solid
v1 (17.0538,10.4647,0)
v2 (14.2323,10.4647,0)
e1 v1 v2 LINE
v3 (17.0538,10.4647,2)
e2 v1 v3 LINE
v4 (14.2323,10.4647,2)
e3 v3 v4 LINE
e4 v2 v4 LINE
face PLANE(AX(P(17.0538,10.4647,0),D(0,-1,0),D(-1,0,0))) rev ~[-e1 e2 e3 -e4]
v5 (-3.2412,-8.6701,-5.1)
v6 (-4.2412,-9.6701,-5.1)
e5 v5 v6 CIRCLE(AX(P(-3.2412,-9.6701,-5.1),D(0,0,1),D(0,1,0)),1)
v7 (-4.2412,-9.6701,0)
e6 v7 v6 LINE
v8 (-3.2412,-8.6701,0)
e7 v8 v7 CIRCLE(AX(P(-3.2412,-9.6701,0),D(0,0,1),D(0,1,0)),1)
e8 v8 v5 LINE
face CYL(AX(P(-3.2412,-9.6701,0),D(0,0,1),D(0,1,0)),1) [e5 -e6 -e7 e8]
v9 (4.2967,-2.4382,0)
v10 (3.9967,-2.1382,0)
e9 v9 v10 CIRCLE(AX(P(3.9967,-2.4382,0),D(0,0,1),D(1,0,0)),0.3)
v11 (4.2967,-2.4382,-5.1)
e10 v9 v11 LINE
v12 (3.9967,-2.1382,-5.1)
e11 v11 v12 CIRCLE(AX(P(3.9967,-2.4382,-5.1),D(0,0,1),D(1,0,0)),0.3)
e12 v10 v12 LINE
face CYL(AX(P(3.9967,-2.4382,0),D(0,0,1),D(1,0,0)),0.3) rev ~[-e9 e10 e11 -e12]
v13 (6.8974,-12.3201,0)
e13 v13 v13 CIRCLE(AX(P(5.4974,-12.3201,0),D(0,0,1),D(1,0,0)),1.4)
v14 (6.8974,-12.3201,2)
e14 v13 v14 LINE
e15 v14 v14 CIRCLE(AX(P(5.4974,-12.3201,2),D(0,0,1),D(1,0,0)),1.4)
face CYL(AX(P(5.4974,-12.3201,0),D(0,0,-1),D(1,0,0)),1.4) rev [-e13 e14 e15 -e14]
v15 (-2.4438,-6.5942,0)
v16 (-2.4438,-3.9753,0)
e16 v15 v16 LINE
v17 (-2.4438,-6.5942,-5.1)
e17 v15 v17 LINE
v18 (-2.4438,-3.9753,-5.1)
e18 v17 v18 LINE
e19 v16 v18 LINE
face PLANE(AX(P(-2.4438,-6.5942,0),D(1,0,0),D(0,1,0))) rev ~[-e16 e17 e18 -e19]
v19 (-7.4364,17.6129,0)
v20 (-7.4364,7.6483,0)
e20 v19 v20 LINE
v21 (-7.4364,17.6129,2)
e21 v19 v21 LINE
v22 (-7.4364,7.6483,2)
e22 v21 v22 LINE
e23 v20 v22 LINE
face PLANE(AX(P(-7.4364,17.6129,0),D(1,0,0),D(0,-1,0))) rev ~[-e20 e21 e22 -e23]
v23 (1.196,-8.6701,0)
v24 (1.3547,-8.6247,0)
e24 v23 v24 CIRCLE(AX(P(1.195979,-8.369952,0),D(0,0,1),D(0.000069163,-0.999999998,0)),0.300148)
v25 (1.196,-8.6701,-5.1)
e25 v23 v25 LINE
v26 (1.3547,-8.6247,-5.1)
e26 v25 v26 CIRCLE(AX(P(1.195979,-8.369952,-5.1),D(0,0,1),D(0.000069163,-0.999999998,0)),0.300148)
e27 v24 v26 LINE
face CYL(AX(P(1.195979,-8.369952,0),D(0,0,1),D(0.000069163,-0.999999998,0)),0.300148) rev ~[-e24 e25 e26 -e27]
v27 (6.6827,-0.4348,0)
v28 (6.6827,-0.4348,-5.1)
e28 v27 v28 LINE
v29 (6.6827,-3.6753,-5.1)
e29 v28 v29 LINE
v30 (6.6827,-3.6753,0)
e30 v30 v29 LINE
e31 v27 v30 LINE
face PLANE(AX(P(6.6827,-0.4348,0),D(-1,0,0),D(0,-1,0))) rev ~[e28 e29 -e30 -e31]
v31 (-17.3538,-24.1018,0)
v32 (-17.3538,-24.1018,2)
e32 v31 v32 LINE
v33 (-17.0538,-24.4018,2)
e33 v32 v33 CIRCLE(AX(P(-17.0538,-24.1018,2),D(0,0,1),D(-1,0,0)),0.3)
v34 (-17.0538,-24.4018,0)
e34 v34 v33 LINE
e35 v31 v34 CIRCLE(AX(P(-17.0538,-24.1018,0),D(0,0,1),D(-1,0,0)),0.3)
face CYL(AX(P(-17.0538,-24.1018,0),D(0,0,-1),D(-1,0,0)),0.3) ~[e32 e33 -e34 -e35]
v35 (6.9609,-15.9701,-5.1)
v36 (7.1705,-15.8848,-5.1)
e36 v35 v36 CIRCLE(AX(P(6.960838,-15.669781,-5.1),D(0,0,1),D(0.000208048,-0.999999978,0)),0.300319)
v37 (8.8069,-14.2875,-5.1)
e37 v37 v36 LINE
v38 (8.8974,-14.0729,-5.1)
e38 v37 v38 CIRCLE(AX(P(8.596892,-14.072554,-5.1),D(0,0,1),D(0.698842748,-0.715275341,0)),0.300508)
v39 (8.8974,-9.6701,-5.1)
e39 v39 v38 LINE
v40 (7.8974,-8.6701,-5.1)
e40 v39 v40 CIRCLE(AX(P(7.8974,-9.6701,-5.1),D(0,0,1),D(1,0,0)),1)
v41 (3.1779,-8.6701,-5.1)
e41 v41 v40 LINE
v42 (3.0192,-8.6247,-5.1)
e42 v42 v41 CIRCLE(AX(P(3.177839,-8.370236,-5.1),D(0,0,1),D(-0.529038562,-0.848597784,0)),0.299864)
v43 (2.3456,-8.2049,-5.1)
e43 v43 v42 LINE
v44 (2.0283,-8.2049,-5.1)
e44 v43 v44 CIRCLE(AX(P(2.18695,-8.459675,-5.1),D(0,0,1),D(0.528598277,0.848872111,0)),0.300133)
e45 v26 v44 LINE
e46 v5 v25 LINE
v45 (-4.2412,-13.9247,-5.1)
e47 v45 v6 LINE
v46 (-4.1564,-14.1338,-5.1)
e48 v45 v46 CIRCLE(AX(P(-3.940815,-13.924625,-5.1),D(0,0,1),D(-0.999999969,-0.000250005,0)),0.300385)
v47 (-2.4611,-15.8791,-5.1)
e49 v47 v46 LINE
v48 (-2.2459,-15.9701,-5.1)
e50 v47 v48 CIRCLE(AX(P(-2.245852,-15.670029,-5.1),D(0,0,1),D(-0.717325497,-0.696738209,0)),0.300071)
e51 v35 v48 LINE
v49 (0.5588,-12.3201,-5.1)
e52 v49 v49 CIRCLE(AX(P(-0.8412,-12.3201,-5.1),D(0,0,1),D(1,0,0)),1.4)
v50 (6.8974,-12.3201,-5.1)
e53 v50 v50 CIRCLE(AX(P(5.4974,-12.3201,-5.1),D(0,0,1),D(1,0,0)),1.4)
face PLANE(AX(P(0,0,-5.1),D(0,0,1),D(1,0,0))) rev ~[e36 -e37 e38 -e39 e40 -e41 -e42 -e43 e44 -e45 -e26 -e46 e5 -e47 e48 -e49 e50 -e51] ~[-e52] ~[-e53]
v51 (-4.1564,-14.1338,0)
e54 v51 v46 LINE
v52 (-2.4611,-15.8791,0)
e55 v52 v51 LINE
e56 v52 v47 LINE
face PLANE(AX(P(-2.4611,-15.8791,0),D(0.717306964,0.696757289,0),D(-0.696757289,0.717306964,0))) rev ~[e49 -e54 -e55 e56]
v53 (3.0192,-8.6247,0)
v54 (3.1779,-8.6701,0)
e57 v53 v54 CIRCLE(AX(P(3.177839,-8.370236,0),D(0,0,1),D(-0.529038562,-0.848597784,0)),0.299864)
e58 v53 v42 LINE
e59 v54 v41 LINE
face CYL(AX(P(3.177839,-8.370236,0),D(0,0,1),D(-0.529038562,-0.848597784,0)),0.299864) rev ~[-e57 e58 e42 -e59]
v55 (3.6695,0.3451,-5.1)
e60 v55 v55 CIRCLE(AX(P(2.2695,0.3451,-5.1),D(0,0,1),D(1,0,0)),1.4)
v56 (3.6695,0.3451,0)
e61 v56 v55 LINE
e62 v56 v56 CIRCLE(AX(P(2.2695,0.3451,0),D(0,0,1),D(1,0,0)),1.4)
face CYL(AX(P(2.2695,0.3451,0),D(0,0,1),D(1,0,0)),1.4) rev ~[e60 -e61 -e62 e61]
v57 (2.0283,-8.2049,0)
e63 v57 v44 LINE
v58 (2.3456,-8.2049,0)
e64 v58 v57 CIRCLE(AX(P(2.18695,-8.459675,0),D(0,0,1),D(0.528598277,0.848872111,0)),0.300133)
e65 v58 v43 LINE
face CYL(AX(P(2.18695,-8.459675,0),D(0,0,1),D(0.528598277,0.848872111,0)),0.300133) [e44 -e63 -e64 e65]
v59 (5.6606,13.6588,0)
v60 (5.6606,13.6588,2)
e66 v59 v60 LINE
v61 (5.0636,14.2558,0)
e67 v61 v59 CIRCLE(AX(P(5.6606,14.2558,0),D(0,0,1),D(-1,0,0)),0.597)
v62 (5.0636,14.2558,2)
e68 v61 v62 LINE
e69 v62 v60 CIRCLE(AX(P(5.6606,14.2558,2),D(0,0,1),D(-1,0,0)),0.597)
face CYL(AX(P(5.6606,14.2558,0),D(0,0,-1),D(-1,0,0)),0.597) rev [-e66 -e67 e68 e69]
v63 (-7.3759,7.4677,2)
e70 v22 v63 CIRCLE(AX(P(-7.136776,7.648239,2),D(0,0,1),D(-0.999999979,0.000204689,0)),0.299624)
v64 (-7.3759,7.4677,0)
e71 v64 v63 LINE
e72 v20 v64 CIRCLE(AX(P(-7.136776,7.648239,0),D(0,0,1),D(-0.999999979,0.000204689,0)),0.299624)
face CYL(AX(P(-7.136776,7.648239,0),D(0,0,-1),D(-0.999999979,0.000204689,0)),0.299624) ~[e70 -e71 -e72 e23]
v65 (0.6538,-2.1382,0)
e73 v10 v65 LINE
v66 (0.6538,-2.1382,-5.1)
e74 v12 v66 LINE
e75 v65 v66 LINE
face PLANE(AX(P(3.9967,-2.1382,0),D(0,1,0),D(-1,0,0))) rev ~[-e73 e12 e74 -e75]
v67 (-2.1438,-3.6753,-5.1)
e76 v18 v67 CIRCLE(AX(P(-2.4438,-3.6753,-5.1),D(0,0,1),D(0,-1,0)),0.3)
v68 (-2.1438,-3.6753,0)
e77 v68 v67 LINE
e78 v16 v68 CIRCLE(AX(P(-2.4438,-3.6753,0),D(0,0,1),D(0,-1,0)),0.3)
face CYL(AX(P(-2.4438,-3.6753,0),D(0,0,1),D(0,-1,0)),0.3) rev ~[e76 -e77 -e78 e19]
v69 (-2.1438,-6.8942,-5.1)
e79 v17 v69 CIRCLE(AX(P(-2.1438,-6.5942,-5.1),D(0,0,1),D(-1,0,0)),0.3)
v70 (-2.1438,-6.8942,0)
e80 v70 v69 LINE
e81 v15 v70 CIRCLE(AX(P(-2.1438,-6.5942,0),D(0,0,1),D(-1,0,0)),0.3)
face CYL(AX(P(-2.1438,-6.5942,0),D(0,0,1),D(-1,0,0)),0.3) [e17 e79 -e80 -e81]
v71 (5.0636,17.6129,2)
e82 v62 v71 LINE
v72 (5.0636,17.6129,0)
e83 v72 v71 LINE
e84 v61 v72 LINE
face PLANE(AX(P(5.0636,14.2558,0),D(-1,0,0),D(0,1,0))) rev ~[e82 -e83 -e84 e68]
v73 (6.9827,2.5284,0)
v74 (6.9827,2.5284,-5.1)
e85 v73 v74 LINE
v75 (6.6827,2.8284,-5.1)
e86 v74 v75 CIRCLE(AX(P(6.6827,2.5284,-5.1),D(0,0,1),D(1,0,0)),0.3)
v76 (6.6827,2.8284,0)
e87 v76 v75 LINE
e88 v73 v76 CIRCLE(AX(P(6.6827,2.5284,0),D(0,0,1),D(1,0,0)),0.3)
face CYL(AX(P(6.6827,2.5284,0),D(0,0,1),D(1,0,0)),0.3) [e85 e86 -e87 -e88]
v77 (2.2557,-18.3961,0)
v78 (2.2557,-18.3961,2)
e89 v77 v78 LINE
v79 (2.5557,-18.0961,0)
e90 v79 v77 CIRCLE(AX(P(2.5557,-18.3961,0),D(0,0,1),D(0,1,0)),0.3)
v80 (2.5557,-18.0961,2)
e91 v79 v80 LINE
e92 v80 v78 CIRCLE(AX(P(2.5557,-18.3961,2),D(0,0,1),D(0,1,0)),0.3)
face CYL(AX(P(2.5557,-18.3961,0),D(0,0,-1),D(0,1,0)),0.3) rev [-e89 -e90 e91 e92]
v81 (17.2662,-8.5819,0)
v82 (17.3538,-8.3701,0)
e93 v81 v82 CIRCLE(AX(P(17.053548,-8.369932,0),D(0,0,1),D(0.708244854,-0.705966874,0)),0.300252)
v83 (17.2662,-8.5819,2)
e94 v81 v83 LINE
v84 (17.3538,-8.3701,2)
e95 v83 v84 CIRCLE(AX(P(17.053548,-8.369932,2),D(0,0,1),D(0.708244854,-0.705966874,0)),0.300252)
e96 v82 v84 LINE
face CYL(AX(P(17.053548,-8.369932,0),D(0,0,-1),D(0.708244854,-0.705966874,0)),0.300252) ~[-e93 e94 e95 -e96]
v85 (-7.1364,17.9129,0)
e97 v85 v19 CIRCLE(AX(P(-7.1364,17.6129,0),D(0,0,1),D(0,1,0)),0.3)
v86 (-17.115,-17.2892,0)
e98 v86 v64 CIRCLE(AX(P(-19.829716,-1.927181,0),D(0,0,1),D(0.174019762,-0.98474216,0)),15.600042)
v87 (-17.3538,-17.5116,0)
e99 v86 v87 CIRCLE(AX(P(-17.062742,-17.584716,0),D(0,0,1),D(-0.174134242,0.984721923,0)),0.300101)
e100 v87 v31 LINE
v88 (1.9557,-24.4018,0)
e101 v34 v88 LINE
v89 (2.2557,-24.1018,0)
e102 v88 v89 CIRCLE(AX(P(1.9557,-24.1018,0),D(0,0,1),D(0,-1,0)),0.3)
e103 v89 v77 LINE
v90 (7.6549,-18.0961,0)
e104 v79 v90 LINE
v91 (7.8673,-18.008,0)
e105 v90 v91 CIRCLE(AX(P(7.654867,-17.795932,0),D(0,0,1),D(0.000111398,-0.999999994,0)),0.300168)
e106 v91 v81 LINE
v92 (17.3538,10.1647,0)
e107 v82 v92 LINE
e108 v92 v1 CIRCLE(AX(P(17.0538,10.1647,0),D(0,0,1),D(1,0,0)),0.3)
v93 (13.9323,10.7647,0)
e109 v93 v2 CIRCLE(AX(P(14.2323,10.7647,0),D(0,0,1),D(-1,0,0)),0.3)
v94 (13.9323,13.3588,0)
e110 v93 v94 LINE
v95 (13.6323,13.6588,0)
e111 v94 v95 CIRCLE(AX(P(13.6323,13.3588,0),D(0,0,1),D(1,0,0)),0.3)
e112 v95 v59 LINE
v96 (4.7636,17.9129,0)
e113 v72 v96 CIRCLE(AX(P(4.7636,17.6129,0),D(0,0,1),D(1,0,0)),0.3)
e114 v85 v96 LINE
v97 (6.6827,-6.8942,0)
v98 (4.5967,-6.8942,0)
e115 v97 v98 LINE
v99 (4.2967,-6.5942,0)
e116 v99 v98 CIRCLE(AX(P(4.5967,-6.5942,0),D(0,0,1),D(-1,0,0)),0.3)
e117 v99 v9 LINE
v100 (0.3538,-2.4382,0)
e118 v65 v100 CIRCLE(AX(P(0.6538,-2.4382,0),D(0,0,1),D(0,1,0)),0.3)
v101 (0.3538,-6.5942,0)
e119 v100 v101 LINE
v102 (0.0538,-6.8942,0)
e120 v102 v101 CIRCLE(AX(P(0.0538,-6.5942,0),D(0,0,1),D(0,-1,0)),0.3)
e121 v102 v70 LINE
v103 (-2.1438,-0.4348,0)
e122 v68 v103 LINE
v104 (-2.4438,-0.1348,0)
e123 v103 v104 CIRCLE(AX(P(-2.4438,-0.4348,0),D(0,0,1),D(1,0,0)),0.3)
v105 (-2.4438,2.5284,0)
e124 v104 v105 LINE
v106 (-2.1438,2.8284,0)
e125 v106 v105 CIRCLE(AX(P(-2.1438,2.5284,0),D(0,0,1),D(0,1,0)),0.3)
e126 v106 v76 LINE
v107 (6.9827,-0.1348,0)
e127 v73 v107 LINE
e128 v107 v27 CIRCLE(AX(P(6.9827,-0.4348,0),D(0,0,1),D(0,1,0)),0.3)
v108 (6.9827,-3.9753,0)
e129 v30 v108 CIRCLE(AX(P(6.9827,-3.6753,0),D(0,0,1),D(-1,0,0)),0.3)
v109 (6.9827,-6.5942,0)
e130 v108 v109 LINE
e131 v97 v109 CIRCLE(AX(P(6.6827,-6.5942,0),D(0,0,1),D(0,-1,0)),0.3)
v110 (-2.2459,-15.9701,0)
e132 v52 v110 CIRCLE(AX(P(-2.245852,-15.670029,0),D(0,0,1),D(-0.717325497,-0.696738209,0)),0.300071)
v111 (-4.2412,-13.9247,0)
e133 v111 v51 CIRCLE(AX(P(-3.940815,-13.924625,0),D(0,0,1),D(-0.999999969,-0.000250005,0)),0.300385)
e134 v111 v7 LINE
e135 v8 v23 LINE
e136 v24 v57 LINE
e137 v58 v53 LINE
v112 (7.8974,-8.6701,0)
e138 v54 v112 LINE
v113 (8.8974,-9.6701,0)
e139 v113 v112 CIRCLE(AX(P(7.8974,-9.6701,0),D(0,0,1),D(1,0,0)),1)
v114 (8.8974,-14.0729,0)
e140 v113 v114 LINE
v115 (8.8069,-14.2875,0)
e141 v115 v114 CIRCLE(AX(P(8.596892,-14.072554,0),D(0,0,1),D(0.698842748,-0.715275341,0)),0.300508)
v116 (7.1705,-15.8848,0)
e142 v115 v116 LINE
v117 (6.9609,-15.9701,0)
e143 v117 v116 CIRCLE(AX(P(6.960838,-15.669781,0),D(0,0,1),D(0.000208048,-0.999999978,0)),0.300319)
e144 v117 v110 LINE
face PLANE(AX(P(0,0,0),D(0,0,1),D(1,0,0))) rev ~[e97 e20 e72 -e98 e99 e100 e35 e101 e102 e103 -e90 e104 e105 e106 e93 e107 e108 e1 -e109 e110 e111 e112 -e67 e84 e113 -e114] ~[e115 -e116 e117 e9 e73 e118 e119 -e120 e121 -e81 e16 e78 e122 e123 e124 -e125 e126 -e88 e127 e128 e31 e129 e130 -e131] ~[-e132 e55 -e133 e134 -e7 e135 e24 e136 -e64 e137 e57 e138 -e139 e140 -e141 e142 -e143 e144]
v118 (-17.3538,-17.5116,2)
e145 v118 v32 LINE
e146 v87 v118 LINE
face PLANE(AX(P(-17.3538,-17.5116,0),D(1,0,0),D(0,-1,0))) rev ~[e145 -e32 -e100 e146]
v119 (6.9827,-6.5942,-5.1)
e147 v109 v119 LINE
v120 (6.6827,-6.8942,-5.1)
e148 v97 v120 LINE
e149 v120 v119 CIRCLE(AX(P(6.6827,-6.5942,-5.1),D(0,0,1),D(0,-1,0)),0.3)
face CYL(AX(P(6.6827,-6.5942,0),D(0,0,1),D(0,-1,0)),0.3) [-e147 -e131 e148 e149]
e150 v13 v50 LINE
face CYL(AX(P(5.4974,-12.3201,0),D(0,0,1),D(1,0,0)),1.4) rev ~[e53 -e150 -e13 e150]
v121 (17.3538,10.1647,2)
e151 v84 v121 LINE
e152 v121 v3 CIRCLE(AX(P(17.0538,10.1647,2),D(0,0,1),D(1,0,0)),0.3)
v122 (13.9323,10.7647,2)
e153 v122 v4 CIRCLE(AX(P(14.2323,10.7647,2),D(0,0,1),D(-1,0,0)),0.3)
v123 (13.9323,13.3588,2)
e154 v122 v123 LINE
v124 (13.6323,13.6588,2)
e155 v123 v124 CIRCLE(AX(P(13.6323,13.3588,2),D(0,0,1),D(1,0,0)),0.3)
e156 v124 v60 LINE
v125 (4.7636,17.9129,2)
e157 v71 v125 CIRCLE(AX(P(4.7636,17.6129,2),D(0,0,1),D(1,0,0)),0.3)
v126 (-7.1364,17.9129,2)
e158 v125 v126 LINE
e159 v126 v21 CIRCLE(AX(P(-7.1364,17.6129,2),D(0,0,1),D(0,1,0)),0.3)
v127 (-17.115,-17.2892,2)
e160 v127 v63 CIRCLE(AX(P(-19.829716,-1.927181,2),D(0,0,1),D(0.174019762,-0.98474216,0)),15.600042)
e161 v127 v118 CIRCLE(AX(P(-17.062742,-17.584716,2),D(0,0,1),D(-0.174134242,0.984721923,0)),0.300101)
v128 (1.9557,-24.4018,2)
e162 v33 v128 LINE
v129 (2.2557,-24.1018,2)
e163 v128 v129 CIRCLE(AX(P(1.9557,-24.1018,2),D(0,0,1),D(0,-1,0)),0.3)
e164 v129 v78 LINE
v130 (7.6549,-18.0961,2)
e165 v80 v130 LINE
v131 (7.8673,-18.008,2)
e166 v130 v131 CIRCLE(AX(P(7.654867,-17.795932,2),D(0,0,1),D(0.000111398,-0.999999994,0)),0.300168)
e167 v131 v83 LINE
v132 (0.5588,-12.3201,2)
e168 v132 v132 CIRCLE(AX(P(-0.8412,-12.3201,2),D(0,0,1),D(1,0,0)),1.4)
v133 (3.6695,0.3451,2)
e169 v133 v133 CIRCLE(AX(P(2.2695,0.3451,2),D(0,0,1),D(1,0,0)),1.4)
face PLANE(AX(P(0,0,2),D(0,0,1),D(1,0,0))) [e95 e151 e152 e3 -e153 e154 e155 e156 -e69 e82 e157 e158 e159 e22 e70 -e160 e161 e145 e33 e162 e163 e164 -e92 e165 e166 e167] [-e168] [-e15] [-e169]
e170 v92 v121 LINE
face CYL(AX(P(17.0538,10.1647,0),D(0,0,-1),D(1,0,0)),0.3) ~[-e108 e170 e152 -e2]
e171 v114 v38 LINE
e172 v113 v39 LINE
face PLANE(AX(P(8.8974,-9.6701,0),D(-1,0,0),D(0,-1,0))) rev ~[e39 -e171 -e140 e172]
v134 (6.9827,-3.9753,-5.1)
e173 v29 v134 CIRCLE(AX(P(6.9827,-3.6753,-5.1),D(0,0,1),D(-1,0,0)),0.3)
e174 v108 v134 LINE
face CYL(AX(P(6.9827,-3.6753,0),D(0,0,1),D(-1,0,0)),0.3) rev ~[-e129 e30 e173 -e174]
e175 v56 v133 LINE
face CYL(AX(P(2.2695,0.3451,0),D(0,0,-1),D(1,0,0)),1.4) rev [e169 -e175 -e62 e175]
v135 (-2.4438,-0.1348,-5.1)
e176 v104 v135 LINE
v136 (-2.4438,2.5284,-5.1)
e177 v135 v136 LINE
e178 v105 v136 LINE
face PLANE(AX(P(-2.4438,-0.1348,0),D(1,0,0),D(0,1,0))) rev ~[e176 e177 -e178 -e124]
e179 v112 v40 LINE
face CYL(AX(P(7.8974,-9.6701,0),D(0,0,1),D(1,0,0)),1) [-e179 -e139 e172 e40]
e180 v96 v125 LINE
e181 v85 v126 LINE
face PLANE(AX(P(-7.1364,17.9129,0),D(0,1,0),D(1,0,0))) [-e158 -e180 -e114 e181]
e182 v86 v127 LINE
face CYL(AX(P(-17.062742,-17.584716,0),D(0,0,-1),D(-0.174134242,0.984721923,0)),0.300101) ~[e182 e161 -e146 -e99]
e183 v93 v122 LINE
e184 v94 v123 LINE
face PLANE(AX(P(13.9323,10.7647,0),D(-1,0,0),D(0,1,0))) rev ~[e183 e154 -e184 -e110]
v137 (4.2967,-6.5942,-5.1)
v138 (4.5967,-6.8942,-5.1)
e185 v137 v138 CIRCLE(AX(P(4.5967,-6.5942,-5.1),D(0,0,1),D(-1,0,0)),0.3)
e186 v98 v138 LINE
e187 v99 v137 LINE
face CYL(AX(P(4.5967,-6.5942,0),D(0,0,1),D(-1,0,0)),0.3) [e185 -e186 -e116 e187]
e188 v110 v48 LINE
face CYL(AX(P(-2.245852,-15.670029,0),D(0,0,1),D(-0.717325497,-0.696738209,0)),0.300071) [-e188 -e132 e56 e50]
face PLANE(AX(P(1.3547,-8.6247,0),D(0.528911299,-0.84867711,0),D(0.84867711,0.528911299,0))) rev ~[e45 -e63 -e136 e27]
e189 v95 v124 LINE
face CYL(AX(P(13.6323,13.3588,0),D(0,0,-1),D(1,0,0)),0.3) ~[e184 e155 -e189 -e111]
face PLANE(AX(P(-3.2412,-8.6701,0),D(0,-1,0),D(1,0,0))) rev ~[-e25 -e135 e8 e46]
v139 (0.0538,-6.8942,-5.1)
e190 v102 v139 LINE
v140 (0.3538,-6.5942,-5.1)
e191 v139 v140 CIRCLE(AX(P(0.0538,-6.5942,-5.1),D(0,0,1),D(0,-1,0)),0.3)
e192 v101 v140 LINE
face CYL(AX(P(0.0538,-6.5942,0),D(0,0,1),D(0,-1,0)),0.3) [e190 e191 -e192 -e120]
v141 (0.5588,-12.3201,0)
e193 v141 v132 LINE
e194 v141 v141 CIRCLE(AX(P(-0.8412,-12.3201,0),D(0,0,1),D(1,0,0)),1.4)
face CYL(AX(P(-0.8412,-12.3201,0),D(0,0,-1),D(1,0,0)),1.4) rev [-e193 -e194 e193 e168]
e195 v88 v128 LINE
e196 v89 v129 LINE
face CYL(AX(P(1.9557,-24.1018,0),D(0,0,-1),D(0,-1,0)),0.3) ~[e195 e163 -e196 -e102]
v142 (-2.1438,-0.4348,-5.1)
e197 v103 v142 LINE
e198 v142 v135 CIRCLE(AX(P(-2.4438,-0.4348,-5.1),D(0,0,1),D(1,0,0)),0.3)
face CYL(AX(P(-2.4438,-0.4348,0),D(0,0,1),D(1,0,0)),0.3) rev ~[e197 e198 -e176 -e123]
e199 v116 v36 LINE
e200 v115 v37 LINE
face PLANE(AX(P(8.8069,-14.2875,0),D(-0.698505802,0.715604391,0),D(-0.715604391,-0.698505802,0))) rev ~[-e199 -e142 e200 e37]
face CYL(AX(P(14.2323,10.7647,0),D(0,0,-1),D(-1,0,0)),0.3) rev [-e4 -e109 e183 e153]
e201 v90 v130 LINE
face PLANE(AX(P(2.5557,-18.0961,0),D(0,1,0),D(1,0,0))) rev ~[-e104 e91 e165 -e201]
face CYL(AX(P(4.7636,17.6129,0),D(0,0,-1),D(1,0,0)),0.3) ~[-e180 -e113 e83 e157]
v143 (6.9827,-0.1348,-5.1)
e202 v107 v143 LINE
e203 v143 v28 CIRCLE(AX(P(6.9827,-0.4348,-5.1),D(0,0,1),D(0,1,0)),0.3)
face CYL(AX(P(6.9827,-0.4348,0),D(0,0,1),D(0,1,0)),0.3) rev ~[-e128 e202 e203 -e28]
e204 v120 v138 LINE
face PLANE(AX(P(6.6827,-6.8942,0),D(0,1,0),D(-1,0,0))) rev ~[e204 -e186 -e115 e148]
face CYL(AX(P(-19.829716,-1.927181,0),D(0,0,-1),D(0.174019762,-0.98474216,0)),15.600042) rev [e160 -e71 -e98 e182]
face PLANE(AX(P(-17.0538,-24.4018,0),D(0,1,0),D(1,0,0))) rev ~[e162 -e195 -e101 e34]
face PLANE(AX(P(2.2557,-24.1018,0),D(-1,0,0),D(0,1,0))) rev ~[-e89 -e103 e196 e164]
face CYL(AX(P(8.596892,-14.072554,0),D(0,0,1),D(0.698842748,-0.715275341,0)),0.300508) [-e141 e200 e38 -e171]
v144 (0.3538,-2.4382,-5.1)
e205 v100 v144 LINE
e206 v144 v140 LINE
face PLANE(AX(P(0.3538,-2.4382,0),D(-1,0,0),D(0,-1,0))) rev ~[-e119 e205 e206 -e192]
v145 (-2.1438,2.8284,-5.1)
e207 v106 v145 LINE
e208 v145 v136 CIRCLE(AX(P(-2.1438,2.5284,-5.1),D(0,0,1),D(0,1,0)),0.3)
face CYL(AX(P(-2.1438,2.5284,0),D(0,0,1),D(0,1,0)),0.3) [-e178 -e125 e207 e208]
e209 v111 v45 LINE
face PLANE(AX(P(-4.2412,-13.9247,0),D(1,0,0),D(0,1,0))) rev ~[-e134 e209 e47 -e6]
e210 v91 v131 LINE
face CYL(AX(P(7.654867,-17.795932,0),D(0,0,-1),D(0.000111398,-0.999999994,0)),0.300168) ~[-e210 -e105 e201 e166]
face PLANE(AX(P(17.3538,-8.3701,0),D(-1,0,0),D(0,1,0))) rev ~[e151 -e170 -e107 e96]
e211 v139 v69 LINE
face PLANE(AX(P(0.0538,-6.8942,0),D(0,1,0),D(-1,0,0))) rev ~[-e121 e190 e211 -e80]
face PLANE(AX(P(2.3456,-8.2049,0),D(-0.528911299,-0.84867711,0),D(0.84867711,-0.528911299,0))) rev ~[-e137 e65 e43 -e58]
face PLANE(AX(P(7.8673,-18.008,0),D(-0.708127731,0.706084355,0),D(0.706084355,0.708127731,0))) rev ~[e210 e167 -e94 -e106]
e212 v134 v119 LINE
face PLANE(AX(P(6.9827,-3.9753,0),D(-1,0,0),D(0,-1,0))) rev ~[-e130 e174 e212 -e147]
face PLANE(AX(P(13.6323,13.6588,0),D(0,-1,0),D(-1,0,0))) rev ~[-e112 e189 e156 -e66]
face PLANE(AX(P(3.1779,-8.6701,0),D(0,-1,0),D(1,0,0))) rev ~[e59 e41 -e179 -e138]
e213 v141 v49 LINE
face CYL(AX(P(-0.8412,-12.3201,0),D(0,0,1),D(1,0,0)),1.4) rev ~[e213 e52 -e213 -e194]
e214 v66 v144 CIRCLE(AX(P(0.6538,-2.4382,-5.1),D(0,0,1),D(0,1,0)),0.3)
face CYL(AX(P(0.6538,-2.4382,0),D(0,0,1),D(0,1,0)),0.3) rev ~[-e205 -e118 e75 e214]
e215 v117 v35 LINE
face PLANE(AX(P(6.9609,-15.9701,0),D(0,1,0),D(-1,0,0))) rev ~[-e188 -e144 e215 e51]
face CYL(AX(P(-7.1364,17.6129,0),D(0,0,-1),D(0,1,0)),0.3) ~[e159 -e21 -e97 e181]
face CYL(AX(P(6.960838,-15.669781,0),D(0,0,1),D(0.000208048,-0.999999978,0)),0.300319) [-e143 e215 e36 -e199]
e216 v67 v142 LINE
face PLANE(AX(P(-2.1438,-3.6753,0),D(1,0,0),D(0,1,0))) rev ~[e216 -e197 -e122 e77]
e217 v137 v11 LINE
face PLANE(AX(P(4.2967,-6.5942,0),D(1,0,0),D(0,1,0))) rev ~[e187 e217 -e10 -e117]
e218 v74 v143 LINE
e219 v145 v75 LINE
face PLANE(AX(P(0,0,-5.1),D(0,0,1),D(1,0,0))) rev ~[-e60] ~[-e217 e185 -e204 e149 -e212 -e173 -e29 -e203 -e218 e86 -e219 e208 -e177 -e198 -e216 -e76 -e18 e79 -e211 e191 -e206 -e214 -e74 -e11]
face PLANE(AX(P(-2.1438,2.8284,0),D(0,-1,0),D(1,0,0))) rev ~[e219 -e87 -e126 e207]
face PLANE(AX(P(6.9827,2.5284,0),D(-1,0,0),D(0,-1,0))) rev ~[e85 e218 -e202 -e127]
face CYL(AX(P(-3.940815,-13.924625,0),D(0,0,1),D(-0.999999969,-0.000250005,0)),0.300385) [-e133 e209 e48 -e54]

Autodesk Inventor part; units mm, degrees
ref_plane "YZ Plane" through (0, 0, 0) normal (1, 0, 0) x (0, 1, 0)
ref_plane "Work Plane1" through (-17.3538, -25.3153, -5.1) normal (0, 0, 1) x (1, 0, 0)
sketch "holes" plane through (0, 0, 0) normal (0, 0, 1) x (1, 0, 0)
  arc A0 (17.3538, 10.1647) -> (17.0538, 10.4647) centre (17.0538, 10.1647) ccw
  line L0 (17.0538, 10.4647) -> (14.2323, 10.4647)
  arc A1 (13.9323, 10.7647) -> (14.2323, 10.4647) centre (14.2323, 10.7647) ccw
  line L1 (13.9323, 10.7647) -> (13.9323, 13.3588)
  arc A2 (13.9323, 13.3588) -> (13.6323, 13.6588) centre (13.6323, 13.3588) ccw
  line L2 (13.6323, 13.6588) -> (5.6606, 13.6588)
  arc A3 (5.0636, 14.2558) -> (5.6606, 13.6588) centre (5.6606, 14.2558) ccw
  line L3 (5.0636, 14.2558) -> (5.0636, 17.6129)
  arc A4 (5.0636, 17.6129) -> (4.7636, 17.9129) centre (4.7636, 17.6129) ccw
  line L4 (4.7636, 17.9129) -> (-1.9383, 17.9129)
  arc A5 (-2.2383, 18.2129) -> (-1.9383, 17.9129) centre (-1.9383, 18.2129) ccw
  line L5 (-2.2383, 18.2129) -> (-2.2383, 18.3742)
  arc A6 (-2.2383, 18.3742) -> (-2.5383, 18.6742) centre (-2.5383, 18.3742) ccw
  line L6 (-2.5383, 18.6742) -> (-3.5364, 18.6742)
  arc A7 (-3.8364, 18.9742) -> (-3.5364, 18.6742) centre (-3.5364, 18.9742) ccw
  line L7 (-3.8364, 18.9742) -> (-3.8364, 19.9671)
  arc A8 (-3.8364, 19.9671) -> (-4.1364, 20.2671) centre (-4.1364, 19.9671) ccw
  line L8 (-4.1364, 20.2671) -> (-5.1364, 20.2671)
  arc A9 (-5.4364, 20.5671) -> (-5.1364, 20.2671) centre (-5.1364, 20.5671) ccw
  line L9 (-5.4364, 20.5671) -> (-5.4364, 24.1018)
  arc A10 (-5.4364, 24.1018) -> (-5.7364, 24.4018) centre (-5.7364, 24.1018) ccw
  line L10 (-5.7364, 24.4018) -> (-7.1364, 24.4018)
  arc A11 (-7.1364, 24.4018) -> (-7.4364, 24.1018) centre (-7.1364, 24.1018) ccw
  line L11 (-7.4364, 24.1018) -> (-7.4364, 7.6483)
  arc A12 (-7.4364, 7.6483) -> (-7.3759, 7.4677) centre (-7.1364, 7.6483) ccw
  arc A13 (-17.115, -17.2892) -> (-7.3759, 7.4677) centre (-19.8297, -1.9272) ccw
  arc A14 (-17.115, -17.2892) -> (-17.3538, -17.5116) centre (-17.0628, -17.5846) ccw
  line L12 (-17.3538, -17.5116) -> (-17.3538, -24.1018)
  arc A15 (-17.3538, -24.1018) -> (-17.0538, -24.4018) centre (-17.0538, -24.1018) ccw
  line L13 (-17.0538, -24.4018) -> (1.9557, -24.4018)
  arc A16 (1.9557, -24.4018) -> (2.2557, -24.1018) centre (1.9557, -24.1018) ccw
  line L14 (2.2557, -24.1018) -> (2.2557, -18.3961)
  arc A17 (2.5557, -18.0961) -> (2.2557, -18.3961) centre (2.5557, -18.3961) ccw
  line L15 (2.5557, -18.0961) -> (7.6549, -18.0961)
  arc A18 (7.6549, -18.0961) -> (7.8673, -18.008) centre (7.6549, -17.7961) ccw
  line L16 (7.8673, -18.008) -> (17.2662, -8.5819)
  arc A19 (17.2662, -8.5819) -> (17.3538, -8.3701) centre (17.0538, -8.3701) ccw
  line L17 (17.3538, -8.3701) -> (17.3538, 10.1647)
  arc A20 (1.196, -8.6701) -> (1.3547, -8.6247) centre (1.196, -8.3701) ccw
  line L18 (1.3547, -8.6247) -> (2.0283, -8.2049)
  arc A21 (2.3456, -8.2049) -> (2.0283, -8.2049) centre (2.187, -8.4595) ccw
  line L19 (2.3456, -8.2049) -> (3.0192, -8.6247)
  arc A22 (3.0192, -8.6247) -> (3.1779, -8.6701) centre (3.1779, -8.3701) ccw
  line L20 (3.1779, -8.6701) -> (7.8974, -8.6701)
  arc A23 (8.8974, -9.6701) -> (7.8974, -8.6701) centre (7.8974, -9.6701) ccw
  line L21 (8.8974, -9.6701) -> (8.8974, -14.0729)
  arc A24 (8.8069, -14.2875) -> (8.8974, -14.0729) centre (8.5974, -14.0729) ccw
  line L22 (8.8069, -14.2875) -> (7.1705, -15.8848)
  arc A25 (6.9609, -15.9701) -> (7.1705, -15.8848) centre (6.9609, -15.6701) ccw
  line L23 (6.9609, -15.9701) -> (-2.2459, -15.9701)
  arc A26 (-2.4611, -15.8791) -> (-2.2459, -15.9701) centre (-2.2459, -15.6701) ccw
  line L24 (-2.4611, -15.8791) -> (-4.1564, -14.1338)
  arc A27 (-4.2412, -13.9247) -> (-4.1564, -14.1338) centre (-3.9412, -13.9247) ccw
  line L25 (-4.2412, -13.9247) -> (-4.2412, -9.6701)
  arc A28 (-3.2412, -8.6701) -> (-4.2412, -9.6701) centre (-3.2412, -9.6701) ccw
  line L26 (-3.2412, -8.6701) -> (1.196, -8.6701)
  arc A29 (4.2967, -2.4382) -> (3.9967, -2.1382) centre (3.9967, -2.4382) ccw
  line L27 (3.9967, -2.1382) -> (0.6538, -2.1382)
  arc A30 (0.6538, -2.1382) -> (0.3538, -2.4382) centre (0.6538, -2.4382) ccw
  line L28 (0.3538, -2.4382) -> (0.3538, -6.5942)
  arc A31 (0.0538, -6.8942) -> (0.3538, -6.5942) centre (0.0538, -6.5942) ccw
  line L29 (0.0538, -6.8942) -> (-2.1438, -6.8942)
  arc A32 (-2.4438, -6.5942) -> (-2.1438, -6.8942) centre (-2.1438, -6.5942) ccw
  line L30 (-2.4438, -6.5942) -> (-2.4438, -3.9753)
  arc A33 (-2.4438, -3.9753) -> (-2.1438, -3.6753) centre (-2.4438, -3.6753) ccw
  line L31 (-2.1438, -3.6753) -> (-2.1438, -0.4348)
  arc A34 (-2.1438, -0.4348) -> (-2.4438, -0.1348) centre (-2.4438, -0.4348) ccw
  line L32 (-2.4438, -0.1348) -> (-2.4438, 2.5284)
  arc A35 (-2.1438, 2.8284) -> (-2.4438, 2.5284) centre (-2.1438, 2.5284) ccw
  line L33 (-2.1438, 2.8284) -> (6.6827, 2.8284)
  arc A36 (6.9827, 2.5284) -> (6.6827, 2.8284) centre (6.6827, 2.5284) ccw
  line L34 (6.9827, 2.5284) -> (6.9827, -0.1348)
  arc A37 (6.9827, -0.1348) -> (6.6827, -0.4348) centre (6.9827, -0.4348) ccw
  line L35 (6.6827, -0.4348) -> (6.6827, -3.6753)
  arc A38 (6.6827, -3.6753) -> (6.9827, -3.9753) centre (6.9827, -3.6753) ccw
  line L36 (6.9827, -3.9753) -> (6.9827, -6.5942)
  arc A39 (6.6827, -6.8942) -> (6.9827, -6.5942) centre (6.6827, -6.5942) ccw
  line L37 (6.6827, -6.8942) -> (4.5967, -6.8942)
  arc A40 (4.2967, -6.5942) -> (4.5967, -6.8942) centre (4.5967, -6.5942) ccw
  line L38 (4.2967, -6.5942) -> (4.2967, -2.4382)
  circle A41 centre (2.2695, 0.3451) radius 1.4
  circle A42 centre (5.4974, -12.3201) radius 1.4
  circle A43 centre (-0.8412, -12.3201) radius 1.4
  line L39 (-7.1364, 17.9129) -> (4.7636, 17.9129)
  arc A44 (-7.1364, 17.9129) -> (-7.4364, 17.6129) centre (-7.1364, 17.6129) ccw
  line L40 (-7.4364, 7.6483) -> (-7.4364, 17.6129)
  point P0 (0, 0)
extrude "Extrusion1" add sketch "holes" against normal up to surface (5.1 mm away) contours A20 L18 A21 L19 A22 L20 A23 L21 A24 L22 A25 L23 A26 L24 A27 L25 A28 L26 | A29 L27 A30 L28 A31 L29 A32 L30 A33 L31 A34 L32 A35 L33 A36 L34 A37 L35 A38 L36 A39 L37 A40 L38
ref_plane "Work Plane2" through (282.7327, 0, 0) normal (0, 0, 1) x (1, 0, 0)
sketch "plate" plane through (0, 0, 0) normal (0, 0, 1) x (1, 0, 0)
  arc A0 (17.3538, 10.1647) -> (17.0538, 10.4647) centre (17.0538, 10.1647) ccw projected
  line L0 (17.0538, 10.4647) -> (14.2323, 10.4647) projected
  arc A1 (13.9323, 10.7647) -> (14.2323, 10.4647) centre (14.2323, 10.7647) ccw projected
  line L1 (13.9323, 10.7647) -> (13.9323, 13.3588) projected
  arc A2 (13.9323, 13.3588) -> (13.6323, 13.6588) centre (13.6323, 13.3588) ccw projected
  line L2 (13.6323, 13.6588) -> (5.6606, 13.6588) projected
  arc A3 (5.0636, 14.2558) -> (5.6606, 13.6588) centre (5.6606, 14.2558) ccw projected
  line L3 (5.0636, 14.2558) -> (5.0636, 17.6129) projected
  arc A4 (5.0636, 17.6129) -> (4.7636, 17.9129) centre (4.7636, 17.6129) ccw projected
  line L4 (4.7636, 17.9129) -> (-1.9383, 17.9129) projected
  arc A5 (-2.2383, 18.2129) -> (-1.9383, 17.9129) centre (-1.9383, 18.2129) ccw projected
  line L5 (-2.2383, 18.2129) -> (-2.2383, 18.3742) projected
  arc A6 (-2.2383, 18.3742) -> (-2.5383, 18.6742) centre (-2.5383, 18.3742) ccw projected
  line L6 (-2.5383, 18.6742) -> (-3.5364, 18.6742) projected
  arc A7 (-3.8364, 18.9742) -> (-3.5364, 18.6742) centre (-3.5364, 18.9742) ccw projected
  line L7 (-3.8364, 18.9742) -> (-3.8364, 19.9671) projected
  arc A8 (-3.8364, 19.9671) -> (-4.1364, 20.2671) centre (-4.1364, 19.9671) ccw projected
  line L8 (-4.1364, 20.2671) -> (-5.1364, 20.2671) projected
  arc A9 (-5.4364, 20.5671) -> (-5.1364, 20.2671) centre (-5.1364, 20.5671) ccw projected
  line L9 (-5.4364, 20.5671) -> (-5.4364, 24.1018) projected
  arc A10 (-5.4364, 24.1018) -> (-5.7364, 24.4018) centre (-5.7364, 24.1018) ccw projected
  line L10 (-5.7364, 24.4018) -> (-7.1364, 24.4018) projected
  arc A11 (-7.1364, 24.4018) -> (-7.4364, 24.1018) centre (-7.1364, 24.1018) ccw projected
  line L11 (-7.4364, 24.1018) -> (-7.4364, 7.6483) projected
  arc A12 (-7.4364, 7.6483) -> (-7.3759, 7.4677) centre (-7.1364, 7.6483) ccw projected
  arc A13 (-17.115, -17.2892) -> (-7.3759, 7.4677) centre (-19.8297, -1.9272) ccw projected
  arc A14 (-17.115, -17.2892) -> (-17.3538, -17.5116) centre (-17.0628, -17.5846) ccw projected
  line L12 (-17.3538, -17.5116) -> (-17.3538, -24.1018) projected
  arc A15 (-17.3538, -24.1018) -> (-17.0538, -24.4018) centre (-17.0538, -24.1018) ccw projected
  line L13 (-17.0538, -24.4018) -> (1.9557, -24.4018) projected
  arc A16 (1.9557, -24.4018) -> (2.2557, -24.1018) centre (1.9557, -24.1018) ccw projected
  line L14 (2.2557, -24.1018) -> (2.2557, -18.3961) projected
  arc A17 (2.5557, -18.0961) -> (2.2557, -18.3961) centre (2.5557, -18.3961) ccw projected
  line L15 (2.5557, -18.0961) -> (7.6549, -18.0961) projected
  arc A18 (7.6549, -18.0961) -> (7.8673, -18.008) centre (7.6549, -17.7961) ccw projected
  line L16 (7.8673, -18.008) -> (17.2662, -8.5819) projected
  arc A19 (17.2662, -8.5819) -> (17.3538, -8.3701) centre (17.0538, -8.3701) ccw projected
  line L17 (17.3538, -8.3701) -> (17.3538, 10.1647) projected
  arc A20 (1.196, -8.6701) -> (1.3547, -8.6247) centre (1.196, -8.3701) ccw projected
  line L18 (1.3547, -8.6247) -> (2.0283, -8.2049) projected
  arc A21 (2.3456, -8.2049) -> (2.0283, -8.2049) centre (2.187, -8.4595) ccw projected
  line L19 (2.3456, -8.2049) -> (3.0192, -8.6247) projected
  arc A22 (3.0192, -8.6247) -> (3.1779, -8.6701) centre (3.1779, -8.3701) ccw projected
  line L20 (3.1779, -8.6701) -> (7.8974, -8.6701) projected
  arc A23 (8.8974, -9.6701) -> (7.8974, -8.6701) centre (7.8974, -9.6701) ccw projected
  line L21 (8.8974, -9.6701) -> (8.8974, -14.0729) projected
  arc A24 (8.8069, -14.2875) -> (8.8974, -14.0729) centre (8.5974, -14.0729) ccw projected
  line L22 (8.8069, -14.2875) -> (7.1705, -15.8848) projected
  arc A25 (6.9609, -15.9701) -> (7.1705, -15.8848) centre (6.9609, -15.6701) ccw projected
  line L23 (6.9609, -15.9701) -> (-2.2459, -15.9701) projected
  arc A26 (-2.4611, -15.8791) -> (-2.2459, -15.9701) centre (-2.2459, -15.6701) ccw projected
  line L24 (-2.4611, -15.8791) -> (-4.1564, -14.1338) projected
  arc A27 (-4.2412, -13.9247) -> (-4.1564, -14.1338) centre (-3.9412, -13.9247) ccw projected
  line L25 (-4.2412, -13.9247) -> (-4.2412, -9.6701) projected
  arc A28 (-3.2412, -8.6701) -> (-4.2412, -9.6701) centre (-3.2412, -9.6701) ccw projected
  line L26 (-3.2412, -8.6701) -> (1.196, -8.6701) projected
  arc A29 (4.2967, -2.4382) -> (3.9967, -2.1382) centre (3.9967, -2.4382) ccw projected
  line L27 (3.9967, -2.1382) -> (0.6538, -2.1382) projected
  arc A30 (0.6538, -2.1382) -> (0.3538, -2.4382) centre (0.6538, -2.4382) ccw projected
  line L28 (0.3538, -2.4382) -> (0.3538, -6.5942) projected
  arc A31 (0.0538, -6.8942) -> (0.3538, -6.5942) centre (0.0538, -6.5942) ccw projected
  line L29 (0.0538, -6.8942) -> (-2.1438, -6.8942) projected
  arc A32 (-2.4438, -6.5942) -> (-2.1438, -6.8942) centre (-2.1438, -6.5942) ccw projected
  line L30 (-2.4438, -6.5942) -> (-2.4438, -3.9753) projected
  arc A33 (-2.4438, -3.9753) -> (-2.1438, -3.6753) centre (-2.4438, -3.6753) ccw projected
  line L31 (-2.1438, -3.6753) -> (-2.1438, -0.4348) projected
  arc A34 (-2.1438, -0.4348) -> (-2.4438, -0.1348) centre (-2.4438, -0.4348) ccw projected
  line L32 (-2.4438, -0.1348) -> (-2.4438, 2.5284) projected
  arc A35 (-2.1438, 2.8284) -> (-2.4438, 2.5284) centre (-2.1438, 2.5284) ccw projected
  line L33 (-2.1438, 2.8284) -> (6.6827, 2.8284) projected
  arc A36 (6.9827, 2.5284) -> (6.6827, 2.8284) centre (6.6827, 2.5284) ccw projected
  line L34 (6.9827, 2.5284) -> (6.9827, -0.1348) projected
  arc A37 (6.9827, -0.1348) -> (6.6827, -0.4348) centre (6.9827, -0.4348) ccw projected
  line L35 (6.6827, -0.4348) -> (6.6827, -3.6753) projected
  arc A38 (6.6827, -3.6753) -> (6.9827, -3.9753) centre (6.9827, -3.6753) ccw projected
  line L36 (6.9827, -3.9753) -> (6.9827, -6.5942) projected
  arc A39 (6.6827, -6.8942) -> (6.9827, -6.5942) centre (6.6827, -6.5942) ccw projected
  line L37 (6.6827, -6.8942) -> (4.5967, -6.8942) projected
  arc A40 (4.2967, -6.5942) -> (4.5967, -6.8942) centre (4.5967, -6.5942) ccw projected
  line L38 (4.2967, -6.5942) -> (4.2967, -2.4382) projected
  arc A41 (-7.1364, 17.9129) -> (-7.4364, 17.6129) centre (-7.1364, 17.6129) ccw projected
  line L39 (-7.1364, 17.9129) -> (4.7636, 17.9129) projected
  circle A42 centre (2.2695, 0.3451) radius 1.4 projected
  circle A43 centre (5.4974, -12.3201) radius 1.4 projected
  circle A44 centre (-0.8412, -12.3201) radius 1.4 projected
  point P0 (0, 0)
extrude "Extrusion2" add sketch "plate" along normal blind 2 contours L17 A19 L16 A18 L15 A17 L14 A16 L13 A15 L12 A14 A13 A12 L11 A41 L39 L4 A4 L3 A3 L2 A2 L1 A1 L0 A0 | A20 L18 A21 L19 A22 L20 A23 L21 A24 L22 A25 L23 A26 L24 A27 L25 A28 L26 | A29 L27 A30 L28 A31 L29 A32 L30 A33 L31 A34 L32 A35 L33 A36 L34 A37 L35 A38 L36 A39 L37 A40 L38
properties part number "mount_carriage_bottom"
